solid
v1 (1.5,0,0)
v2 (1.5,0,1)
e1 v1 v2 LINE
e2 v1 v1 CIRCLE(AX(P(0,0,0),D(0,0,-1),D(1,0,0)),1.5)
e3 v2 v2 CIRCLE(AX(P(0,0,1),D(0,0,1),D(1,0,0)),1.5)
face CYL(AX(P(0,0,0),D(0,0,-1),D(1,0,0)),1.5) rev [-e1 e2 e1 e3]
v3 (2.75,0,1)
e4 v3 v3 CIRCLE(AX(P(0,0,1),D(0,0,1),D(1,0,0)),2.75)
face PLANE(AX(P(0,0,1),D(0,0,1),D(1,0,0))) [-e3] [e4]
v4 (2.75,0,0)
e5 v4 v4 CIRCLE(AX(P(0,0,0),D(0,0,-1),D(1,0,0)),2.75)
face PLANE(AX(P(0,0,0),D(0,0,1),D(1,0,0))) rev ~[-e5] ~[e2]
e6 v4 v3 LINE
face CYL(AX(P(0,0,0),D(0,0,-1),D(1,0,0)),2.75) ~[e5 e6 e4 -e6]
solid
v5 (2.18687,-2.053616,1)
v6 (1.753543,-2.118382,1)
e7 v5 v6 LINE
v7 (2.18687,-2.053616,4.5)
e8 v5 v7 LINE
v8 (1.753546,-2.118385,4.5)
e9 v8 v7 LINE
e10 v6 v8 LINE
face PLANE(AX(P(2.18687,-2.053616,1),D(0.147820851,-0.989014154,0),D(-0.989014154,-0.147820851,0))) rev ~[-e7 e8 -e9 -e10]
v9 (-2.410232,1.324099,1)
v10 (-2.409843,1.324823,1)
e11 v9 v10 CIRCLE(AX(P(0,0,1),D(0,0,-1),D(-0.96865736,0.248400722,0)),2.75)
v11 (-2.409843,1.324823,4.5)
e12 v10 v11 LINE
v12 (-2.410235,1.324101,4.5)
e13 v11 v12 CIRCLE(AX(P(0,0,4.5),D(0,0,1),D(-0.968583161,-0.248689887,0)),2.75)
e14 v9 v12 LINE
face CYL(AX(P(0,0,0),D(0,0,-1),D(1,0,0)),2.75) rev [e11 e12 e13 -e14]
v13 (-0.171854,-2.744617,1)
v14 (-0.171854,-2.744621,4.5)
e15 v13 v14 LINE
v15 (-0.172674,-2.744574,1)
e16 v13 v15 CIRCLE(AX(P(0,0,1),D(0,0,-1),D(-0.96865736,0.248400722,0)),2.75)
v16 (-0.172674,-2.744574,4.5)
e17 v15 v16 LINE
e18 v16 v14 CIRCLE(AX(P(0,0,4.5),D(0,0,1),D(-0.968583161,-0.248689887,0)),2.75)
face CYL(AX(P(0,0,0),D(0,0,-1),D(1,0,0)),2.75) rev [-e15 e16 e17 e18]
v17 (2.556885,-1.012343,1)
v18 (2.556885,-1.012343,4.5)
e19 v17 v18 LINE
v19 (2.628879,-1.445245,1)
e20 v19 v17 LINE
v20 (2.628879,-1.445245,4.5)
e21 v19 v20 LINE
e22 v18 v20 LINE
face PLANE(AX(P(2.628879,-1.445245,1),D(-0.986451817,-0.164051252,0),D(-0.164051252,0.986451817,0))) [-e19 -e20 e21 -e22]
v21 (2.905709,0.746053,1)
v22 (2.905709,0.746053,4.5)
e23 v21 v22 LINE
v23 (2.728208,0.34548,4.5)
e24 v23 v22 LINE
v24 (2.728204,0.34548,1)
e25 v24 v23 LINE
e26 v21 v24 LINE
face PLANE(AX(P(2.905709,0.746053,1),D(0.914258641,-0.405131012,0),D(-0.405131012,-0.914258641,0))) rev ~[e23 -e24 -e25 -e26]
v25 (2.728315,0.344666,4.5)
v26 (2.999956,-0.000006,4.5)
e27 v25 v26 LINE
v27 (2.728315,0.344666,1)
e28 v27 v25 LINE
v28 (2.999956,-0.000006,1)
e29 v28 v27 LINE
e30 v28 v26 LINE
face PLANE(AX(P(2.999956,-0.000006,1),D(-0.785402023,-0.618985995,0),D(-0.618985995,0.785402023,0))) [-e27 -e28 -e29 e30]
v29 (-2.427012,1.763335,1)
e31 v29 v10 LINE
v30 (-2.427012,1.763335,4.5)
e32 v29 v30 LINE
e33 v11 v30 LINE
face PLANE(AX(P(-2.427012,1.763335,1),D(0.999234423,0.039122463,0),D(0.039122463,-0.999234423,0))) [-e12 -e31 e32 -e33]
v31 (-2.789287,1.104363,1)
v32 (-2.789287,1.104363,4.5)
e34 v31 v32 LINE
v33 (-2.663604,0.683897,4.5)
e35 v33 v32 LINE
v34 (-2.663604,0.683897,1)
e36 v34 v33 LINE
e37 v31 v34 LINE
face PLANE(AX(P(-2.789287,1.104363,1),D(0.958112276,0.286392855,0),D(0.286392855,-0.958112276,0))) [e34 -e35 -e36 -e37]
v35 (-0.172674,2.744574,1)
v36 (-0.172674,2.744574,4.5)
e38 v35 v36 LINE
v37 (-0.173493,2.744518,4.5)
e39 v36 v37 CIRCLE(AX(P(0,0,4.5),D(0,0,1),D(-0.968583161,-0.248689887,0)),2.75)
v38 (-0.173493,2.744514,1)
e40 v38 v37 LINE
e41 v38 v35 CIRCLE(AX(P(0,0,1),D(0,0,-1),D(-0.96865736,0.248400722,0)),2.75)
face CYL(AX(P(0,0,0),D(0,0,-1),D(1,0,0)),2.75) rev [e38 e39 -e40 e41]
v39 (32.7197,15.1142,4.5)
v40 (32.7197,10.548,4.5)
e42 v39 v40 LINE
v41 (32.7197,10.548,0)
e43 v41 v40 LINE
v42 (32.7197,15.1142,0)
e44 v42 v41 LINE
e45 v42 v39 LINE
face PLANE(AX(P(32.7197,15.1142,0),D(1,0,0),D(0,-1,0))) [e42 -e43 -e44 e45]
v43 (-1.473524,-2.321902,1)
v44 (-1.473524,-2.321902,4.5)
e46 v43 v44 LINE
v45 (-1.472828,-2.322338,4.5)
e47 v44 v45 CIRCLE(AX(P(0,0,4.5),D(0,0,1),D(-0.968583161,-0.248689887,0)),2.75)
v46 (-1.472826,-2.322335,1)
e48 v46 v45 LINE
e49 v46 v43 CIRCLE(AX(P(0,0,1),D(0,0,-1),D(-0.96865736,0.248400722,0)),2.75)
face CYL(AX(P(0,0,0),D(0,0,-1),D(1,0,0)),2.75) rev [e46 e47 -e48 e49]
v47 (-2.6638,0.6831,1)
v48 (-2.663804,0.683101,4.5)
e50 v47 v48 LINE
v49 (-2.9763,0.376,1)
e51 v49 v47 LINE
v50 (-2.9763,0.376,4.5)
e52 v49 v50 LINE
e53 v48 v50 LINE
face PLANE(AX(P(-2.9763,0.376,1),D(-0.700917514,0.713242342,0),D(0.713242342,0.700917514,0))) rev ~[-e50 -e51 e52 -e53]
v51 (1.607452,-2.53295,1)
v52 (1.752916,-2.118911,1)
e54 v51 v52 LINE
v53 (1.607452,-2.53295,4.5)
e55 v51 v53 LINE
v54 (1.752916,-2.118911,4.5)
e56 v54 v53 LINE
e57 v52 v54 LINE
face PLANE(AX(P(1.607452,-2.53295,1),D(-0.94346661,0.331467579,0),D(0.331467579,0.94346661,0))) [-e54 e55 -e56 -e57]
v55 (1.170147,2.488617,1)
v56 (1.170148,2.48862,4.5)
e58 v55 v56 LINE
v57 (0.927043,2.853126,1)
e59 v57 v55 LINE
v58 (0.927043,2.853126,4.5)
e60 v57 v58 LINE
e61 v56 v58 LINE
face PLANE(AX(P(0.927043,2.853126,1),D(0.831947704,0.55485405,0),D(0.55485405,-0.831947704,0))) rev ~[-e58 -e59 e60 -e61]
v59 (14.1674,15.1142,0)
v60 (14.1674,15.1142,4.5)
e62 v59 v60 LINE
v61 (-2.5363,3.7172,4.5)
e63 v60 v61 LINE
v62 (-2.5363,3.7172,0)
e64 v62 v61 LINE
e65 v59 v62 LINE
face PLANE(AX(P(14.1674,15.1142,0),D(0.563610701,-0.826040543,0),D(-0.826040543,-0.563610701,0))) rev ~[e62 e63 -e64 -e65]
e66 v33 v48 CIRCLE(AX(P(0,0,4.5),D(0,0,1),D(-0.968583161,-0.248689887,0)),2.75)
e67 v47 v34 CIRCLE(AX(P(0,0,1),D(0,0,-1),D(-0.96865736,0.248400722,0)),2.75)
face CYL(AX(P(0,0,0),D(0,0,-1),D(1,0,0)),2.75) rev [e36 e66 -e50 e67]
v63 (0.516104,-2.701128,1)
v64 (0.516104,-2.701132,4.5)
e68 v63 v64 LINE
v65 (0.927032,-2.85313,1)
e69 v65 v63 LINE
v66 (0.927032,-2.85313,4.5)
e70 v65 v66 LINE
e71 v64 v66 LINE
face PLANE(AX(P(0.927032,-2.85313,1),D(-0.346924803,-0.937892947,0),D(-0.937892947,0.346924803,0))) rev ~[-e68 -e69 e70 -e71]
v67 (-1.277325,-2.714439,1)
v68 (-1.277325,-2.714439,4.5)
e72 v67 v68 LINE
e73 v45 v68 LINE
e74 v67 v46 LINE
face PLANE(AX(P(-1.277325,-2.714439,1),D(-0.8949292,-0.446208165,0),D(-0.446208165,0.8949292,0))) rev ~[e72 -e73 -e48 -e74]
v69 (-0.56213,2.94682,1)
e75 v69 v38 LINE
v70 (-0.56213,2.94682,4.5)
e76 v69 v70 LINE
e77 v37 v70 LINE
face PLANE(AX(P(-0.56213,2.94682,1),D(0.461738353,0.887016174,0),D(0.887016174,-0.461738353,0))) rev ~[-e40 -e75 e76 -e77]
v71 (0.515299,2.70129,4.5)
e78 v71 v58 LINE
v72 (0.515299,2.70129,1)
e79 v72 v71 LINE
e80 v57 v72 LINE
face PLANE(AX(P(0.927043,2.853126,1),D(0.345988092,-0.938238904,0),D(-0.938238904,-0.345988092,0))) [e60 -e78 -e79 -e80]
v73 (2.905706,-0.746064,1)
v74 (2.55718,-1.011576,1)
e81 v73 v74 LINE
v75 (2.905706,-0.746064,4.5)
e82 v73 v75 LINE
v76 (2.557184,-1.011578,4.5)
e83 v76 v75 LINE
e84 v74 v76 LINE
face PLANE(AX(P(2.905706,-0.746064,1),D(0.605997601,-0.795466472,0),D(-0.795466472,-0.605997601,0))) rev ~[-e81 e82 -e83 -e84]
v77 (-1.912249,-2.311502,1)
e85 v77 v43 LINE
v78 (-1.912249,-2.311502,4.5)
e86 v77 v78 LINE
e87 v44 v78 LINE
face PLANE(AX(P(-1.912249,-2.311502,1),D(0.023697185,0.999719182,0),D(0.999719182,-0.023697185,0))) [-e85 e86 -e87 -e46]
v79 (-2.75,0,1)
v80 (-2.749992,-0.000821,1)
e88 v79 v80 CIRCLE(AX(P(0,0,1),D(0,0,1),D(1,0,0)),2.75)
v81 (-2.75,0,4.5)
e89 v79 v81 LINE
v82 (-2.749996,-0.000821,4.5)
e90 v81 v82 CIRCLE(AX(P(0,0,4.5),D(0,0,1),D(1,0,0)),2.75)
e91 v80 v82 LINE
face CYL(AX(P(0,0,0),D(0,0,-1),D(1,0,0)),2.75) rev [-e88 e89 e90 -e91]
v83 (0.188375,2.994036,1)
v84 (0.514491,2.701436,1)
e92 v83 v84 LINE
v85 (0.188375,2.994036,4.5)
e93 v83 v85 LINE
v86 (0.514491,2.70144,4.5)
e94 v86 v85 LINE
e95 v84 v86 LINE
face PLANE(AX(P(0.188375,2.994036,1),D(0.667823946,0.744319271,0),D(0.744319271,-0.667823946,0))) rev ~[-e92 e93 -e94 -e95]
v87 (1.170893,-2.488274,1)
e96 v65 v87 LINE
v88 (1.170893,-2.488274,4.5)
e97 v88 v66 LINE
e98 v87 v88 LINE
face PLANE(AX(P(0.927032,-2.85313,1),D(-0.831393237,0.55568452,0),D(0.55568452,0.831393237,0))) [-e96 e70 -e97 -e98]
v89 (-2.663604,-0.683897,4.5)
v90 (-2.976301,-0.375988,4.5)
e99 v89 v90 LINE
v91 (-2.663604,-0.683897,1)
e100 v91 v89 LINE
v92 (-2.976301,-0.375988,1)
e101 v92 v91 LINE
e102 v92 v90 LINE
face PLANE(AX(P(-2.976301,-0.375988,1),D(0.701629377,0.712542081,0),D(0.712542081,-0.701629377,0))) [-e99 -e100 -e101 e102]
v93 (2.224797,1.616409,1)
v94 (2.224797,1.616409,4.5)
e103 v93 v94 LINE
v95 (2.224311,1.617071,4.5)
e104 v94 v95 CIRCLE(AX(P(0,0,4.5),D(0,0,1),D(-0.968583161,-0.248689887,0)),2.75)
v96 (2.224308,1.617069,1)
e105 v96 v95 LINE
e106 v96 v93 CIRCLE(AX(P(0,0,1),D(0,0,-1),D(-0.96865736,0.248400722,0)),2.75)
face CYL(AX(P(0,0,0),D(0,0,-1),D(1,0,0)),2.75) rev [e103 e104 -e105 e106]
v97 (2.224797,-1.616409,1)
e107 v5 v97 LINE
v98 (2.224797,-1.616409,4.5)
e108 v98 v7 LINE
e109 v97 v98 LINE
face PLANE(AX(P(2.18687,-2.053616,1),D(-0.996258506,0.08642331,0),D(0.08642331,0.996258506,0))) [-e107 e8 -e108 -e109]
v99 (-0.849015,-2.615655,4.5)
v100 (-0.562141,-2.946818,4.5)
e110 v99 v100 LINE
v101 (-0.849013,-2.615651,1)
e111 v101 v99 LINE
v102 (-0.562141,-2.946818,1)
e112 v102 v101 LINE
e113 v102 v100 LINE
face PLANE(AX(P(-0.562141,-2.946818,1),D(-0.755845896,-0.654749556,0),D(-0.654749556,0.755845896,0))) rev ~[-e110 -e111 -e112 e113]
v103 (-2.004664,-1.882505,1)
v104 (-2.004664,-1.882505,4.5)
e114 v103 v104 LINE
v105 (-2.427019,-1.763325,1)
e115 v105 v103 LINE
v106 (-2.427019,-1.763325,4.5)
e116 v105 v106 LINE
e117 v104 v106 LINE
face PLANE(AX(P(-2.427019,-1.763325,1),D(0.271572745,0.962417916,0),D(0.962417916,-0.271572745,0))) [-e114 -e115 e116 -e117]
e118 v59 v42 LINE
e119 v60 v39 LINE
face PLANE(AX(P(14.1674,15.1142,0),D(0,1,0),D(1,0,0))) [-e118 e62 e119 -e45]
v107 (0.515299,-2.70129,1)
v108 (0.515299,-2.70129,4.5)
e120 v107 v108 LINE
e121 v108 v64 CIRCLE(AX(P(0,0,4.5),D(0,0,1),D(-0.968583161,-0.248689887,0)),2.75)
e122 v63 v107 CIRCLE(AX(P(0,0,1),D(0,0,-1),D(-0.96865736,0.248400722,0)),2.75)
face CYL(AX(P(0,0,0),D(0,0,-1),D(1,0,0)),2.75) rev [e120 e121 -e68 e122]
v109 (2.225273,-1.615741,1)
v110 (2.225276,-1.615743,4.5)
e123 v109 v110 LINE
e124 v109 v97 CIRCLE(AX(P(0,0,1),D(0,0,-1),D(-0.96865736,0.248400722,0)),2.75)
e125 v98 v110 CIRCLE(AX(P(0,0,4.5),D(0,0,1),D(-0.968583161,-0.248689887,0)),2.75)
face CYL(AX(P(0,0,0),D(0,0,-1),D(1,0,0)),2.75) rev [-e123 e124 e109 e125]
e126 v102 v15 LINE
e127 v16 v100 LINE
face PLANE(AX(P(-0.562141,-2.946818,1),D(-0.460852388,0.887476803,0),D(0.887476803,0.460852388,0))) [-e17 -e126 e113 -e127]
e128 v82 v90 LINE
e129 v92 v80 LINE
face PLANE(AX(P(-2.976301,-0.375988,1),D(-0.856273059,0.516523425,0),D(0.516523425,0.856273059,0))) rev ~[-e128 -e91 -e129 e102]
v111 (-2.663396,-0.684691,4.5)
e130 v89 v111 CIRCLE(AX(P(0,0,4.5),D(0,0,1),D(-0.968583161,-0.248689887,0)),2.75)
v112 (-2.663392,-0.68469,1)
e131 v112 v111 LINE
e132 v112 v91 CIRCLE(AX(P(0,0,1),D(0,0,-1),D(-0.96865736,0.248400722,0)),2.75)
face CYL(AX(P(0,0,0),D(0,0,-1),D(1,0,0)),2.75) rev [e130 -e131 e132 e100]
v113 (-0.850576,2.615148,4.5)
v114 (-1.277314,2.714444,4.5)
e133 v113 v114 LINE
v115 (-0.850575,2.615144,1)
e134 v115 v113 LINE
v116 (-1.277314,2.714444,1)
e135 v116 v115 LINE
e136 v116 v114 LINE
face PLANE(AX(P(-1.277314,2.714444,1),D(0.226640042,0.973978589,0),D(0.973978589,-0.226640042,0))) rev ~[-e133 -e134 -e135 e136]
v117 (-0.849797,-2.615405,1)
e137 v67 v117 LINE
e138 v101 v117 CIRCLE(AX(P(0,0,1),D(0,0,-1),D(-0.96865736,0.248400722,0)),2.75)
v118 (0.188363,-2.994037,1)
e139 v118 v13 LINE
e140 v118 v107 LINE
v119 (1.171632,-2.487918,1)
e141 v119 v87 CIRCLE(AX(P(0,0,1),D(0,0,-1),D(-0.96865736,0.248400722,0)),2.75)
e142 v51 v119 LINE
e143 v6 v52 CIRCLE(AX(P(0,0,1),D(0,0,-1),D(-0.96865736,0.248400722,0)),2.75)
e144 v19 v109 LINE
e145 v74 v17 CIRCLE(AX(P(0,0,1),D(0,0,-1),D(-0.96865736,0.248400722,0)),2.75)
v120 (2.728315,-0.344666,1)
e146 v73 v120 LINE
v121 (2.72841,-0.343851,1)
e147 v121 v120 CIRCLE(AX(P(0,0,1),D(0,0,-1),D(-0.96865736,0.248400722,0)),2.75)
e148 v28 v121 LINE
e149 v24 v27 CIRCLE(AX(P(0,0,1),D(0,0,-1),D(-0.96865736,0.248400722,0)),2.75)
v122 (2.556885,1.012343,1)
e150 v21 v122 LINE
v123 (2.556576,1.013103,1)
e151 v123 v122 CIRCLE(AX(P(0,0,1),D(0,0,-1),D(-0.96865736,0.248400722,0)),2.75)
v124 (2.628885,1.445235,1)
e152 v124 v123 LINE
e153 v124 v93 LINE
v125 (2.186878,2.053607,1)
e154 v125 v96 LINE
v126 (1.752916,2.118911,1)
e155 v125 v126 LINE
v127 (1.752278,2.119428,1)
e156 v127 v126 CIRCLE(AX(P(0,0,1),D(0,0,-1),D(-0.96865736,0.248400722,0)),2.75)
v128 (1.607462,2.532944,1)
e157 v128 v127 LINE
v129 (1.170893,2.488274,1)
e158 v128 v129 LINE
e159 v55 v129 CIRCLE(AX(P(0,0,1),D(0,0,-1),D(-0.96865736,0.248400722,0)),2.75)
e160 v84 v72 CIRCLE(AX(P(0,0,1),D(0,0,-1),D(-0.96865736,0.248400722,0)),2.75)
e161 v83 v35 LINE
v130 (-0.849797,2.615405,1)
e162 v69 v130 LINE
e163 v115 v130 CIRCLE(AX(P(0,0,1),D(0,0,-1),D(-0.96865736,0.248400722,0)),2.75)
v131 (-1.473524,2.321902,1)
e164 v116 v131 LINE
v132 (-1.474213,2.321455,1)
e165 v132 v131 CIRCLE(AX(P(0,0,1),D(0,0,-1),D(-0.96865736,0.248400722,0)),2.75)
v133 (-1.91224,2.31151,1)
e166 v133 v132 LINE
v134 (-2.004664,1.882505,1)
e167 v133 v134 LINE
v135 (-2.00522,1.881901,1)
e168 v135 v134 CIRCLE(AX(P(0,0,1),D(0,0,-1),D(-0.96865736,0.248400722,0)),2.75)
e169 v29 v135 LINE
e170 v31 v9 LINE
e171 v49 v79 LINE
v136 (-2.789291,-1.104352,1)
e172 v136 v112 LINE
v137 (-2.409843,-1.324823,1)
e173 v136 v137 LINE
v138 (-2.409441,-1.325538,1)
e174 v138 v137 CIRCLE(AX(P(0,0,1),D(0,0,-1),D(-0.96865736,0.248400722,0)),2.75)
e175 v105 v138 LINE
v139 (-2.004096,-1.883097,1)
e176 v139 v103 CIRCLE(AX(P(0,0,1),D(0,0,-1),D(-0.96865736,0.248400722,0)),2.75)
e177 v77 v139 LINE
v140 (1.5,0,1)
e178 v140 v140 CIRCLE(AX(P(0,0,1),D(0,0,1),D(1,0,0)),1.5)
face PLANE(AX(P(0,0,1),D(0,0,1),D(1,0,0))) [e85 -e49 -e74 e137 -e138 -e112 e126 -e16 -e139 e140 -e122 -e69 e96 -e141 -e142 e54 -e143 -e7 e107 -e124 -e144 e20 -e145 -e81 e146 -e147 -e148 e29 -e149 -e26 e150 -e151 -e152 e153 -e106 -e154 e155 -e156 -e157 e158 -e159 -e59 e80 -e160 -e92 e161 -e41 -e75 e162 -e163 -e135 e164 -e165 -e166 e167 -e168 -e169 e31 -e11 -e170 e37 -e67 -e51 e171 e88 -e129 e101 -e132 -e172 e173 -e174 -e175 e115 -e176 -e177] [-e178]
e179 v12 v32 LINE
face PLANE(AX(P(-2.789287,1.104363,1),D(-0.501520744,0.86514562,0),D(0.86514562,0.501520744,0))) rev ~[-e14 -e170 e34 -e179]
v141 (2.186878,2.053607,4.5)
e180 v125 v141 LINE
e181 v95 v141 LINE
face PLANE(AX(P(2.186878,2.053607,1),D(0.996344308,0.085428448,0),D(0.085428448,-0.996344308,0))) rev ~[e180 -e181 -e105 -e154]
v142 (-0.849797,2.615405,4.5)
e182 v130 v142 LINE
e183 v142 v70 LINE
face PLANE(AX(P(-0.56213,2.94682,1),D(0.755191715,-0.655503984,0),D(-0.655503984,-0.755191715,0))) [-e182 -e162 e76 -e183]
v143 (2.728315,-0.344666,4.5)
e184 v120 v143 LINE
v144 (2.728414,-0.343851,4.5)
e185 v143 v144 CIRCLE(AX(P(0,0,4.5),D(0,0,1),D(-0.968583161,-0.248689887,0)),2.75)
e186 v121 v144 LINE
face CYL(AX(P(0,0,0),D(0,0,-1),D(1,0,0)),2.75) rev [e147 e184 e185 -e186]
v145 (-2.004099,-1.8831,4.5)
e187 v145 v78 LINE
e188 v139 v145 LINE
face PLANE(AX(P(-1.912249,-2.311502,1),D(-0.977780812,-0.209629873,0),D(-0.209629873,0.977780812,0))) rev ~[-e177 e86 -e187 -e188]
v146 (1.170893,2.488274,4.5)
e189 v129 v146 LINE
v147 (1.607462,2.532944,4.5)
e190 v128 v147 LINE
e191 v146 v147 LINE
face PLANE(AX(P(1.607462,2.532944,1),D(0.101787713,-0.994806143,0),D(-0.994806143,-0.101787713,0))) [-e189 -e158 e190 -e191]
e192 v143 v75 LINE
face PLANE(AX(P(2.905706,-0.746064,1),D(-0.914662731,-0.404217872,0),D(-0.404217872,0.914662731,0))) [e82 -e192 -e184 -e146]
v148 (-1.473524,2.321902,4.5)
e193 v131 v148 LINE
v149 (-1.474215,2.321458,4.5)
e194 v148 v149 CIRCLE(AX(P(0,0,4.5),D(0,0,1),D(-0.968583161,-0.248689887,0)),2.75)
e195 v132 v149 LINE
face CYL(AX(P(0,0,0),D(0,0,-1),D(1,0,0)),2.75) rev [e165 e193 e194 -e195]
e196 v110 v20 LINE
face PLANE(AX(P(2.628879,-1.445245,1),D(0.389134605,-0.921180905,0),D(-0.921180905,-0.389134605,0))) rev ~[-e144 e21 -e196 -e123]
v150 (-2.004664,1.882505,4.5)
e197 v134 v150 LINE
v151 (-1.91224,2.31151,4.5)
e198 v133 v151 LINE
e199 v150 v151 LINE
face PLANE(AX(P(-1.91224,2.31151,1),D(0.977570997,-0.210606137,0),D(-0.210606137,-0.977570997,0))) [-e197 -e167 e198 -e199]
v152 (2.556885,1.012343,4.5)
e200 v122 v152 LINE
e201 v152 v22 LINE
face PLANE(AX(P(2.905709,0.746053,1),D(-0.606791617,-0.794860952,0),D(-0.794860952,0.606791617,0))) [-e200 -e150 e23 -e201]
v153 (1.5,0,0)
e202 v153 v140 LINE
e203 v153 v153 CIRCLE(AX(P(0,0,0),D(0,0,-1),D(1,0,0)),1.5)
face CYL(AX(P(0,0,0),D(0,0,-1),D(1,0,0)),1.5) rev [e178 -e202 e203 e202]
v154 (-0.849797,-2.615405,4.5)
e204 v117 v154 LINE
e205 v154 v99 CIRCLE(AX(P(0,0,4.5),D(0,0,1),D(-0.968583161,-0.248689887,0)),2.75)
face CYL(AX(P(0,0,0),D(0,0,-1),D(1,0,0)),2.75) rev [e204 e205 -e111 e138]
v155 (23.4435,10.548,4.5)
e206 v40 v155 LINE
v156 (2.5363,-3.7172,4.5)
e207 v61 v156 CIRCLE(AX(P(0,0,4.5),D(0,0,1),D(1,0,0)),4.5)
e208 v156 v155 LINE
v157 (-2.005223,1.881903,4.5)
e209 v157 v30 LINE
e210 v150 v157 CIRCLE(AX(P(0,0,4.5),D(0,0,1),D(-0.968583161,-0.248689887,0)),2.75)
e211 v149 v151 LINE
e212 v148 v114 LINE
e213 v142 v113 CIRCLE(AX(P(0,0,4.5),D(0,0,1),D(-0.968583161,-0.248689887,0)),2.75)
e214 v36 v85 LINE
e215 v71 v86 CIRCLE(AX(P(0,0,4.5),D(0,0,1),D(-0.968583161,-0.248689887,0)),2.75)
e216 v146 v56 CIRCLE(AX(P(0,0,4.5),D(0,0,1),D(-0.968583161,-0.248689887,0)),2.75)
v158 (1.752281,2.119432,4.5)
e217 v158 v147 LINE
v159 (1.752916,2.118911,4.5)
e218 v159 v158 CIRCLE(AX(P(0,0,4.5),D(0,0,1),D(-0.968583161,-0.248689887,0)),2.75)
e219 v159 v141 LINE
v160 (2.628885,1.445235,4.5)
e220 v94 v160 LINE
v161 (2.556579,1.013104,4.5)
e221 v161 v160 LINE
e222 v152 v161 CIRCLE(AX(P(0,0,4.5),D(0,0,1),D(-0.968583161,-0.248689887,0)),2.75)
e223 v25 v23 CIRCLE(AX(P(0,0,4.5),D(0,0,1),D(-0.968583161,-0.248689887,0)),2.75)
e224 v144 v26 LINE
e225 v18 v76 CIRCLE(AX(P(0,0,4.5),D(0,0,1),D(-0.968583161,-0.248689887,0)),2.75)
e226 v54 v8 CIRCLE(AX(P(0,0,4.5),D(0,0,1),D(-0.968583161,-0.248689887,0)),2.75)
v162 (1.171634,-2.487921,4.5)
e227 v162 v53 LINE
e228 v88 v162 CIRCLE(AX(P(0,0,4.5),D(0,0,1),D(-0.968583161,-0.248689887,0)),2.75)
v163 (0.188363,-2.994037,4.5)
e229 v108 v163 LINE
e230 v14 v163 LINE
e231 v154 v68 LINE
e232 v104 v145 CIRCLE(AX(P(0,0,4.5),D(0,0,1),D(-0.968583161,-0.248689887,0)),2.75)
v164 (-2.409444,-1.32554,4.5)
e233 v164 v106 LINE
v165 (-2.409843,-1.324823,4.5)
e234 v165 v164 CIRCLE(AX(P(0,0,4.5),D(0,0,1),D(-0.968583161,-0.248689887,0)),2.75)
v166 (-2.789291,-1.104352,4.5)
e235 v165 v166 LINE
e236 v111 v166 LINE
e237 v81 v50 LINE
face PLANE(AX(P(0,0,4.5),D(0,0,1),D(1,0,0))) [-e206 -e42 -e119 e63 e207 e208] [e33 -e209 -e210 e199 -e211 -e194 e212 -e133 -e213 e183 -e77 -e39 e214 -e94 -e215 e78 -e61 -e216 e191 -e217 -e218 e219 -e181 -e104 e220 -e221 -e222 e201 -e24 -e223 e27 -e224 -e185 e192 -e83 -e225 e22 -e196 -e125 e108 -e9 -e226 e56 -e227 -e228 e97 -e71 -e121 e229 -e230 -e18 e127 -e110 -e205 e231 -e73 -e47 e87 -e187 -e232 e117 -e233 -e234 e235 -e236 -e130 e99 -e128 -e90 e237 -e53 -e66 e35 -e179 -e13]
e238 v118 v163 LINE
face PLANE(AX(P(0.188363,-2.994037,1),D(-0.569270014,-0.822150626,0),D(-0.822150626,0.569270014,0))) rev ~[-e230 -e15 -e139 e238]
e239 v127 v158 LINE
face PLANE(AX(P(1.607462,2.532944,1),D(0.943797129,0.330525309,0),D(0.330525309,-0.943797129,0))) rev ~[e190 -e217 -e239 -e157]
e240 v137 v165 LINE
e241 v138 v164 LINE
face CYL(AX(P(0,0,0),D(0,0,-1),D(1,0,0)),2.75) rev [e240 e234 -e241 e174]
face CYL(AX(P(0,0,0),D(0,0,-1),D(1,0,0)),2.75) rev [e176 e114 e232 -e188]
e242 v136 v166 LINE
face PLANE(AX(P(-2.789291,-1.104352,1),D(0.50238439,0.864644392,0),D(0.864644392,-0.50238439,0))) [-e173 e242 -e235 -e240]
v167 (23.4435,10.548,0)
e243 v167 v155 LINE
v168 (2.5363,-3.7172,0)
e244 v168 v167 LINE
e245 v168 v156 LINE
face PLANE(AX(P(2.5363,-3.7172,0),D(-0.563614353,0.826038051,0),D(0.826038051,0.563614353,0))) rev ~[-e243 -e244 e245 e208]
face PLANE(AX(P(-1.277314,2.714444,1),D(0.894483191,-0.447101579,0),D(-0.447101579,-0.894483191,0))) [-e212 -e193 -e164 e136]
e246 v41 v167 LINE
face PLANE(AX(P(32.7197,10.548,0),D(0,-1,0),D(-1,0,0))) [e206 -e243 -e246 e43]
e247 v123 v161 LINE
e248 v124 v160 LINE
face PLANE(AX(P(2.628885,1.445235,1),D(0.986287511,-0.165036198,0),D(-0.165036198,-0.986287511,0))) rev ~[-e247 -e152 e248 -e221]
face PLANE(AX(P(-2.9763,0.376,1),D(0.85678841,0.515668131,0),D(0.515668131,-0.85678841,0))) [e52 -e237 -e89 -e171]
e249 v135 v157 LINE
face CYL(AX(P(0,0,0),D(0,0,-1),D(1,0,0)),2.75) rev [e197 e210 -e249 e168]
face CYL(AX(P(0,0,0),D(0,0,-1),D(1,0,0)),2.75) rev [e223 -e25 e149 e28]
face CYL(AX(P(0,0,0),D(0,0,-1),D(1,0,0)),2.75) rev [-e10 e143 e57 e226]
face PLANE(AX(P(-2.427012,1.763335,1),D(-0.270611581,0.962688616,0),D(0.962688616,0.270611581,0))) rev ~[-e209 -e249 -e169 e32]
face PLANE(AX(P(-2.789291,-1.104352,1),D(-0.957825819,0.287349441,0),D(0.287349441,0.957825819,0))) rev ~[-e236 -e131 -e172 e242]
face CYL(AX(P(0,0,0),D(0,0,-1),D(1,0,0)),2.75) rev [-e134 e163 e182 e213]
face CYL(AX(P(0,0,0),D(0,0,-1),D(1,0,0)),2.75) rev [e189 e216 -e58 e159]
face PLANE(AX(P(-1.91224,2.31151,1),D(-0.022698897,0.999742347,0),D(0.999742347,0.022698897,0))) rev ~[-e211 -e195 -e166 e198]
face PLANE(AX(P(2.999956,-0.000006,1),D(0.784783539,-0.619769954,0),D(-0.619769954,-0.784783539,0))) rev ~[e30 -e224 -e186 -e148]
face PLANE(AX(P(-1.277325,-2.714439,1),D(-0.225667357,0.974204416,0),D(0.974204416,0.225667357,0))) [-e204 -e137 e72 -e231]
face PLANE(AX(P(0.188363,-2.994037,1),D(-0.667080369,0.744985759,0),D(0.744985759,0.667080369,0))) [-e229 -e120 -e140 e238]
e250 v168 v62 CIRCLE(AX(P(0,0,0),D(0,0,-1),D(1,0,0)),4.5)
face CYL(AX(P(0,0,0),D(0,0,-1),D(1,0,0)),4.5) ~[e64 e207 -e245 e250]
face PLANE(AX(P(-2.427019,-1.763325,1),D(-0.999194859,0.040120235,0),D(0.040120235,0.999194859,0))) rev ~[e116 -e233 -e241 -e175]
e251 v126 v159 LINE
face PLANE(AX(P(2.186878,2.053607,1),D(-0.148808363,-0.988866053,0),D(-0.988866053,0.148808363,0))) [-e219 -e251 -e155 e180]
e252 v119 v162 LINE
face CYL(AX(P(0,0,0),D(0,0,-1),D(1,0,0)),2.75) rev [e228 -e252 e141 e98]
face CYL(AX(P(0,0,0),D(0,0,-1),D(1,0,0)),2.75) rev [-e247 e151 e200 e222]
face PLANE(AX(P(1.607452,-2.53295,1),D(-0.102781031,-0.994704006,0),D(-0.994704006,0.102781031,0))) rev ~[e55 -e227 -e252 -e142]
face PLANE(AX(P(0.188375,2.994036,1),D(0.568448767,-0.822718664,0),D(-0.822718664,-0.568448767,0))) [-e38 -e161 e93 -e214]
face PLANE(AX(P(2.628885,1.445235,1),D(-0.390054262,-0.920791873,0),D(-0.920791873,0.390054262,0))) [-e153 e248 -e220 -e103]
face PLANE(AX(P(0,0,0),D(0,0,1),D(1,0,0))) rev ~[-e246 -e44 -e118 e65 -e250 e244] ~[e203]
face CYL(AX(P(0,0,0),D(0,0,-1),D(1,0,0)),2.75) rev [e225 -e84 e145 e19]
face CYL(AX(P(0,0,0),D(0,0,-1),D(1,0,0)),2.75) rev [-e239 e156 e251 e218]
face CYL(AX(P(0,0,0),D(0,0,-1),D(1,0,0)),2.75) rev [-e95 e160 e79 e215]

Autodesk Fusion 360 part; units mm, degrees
sketch "Sketch1" plane through (0, 0, 0) normal (0, 0, 1) x (1, 0, 0)
  circle A0 centre (0, 0) radius 1.5
  circle A1 centre (0, 0) radius 2.75
  circle A2 centre (0, 0) radius 4.5
  circle A3 centre (0, 0) radius 3
  line L0 (0, 0) -> (-3, 0)
  line L1 (0, 0) -> (-2.9763, 0.376)
  line L2 (0, 0) -> (3, 0) construction
  line L3 (0, 0) -> (-2.906, 0.7452)
  line L4 (-2.9763, 0.376) -> (-2.6638, 0.6831)
  line L5 (-2.9763, 0.376) -> (-2.75, 0)
  line L6 (14.1674, 15.1142) -> (32.7197, 15.1142)
  line L7 (32.7197, 15.1142) -> (32.7197, 10.548)
  line L8 (32.7197, 10.548) -> (14.1674, 10.548)
  line L9 (14.1674, 10.548) -> (14.1674, 15.1142)
  line L10 (14.1674, 15.1142) -> (-2.5363, 3.7172)
  line L11 (2.5363, -3.7172) -> (23.4435, 10.548)
  dimension "d1" = 3
  dimension "d2" = 5.5
  dimension "d3" = 9
  dimension "d10" = 6
  dimension "d11" = 172.8
  dimension "d12" = 7.2
extrude "Extrude1" add sketch "Sketch1" along normal blind 1 contours A0 A1 L0 L3 | A0 A1 L1 L3 | A0 A1 L0 L1 makes body 1
extrude "Extrude2" add sketch "Sketch1" along normal blind 4.5 separate body contours A1 A3 L0 L3 | A3 L3 L4 | A1 L1 L4 | A1 L1 L5 | A3 L0 L5 | A2 makes body 2
extrude "Extrude3" add sketch "Sketch1" along normal blind 1 contours A0 A1 L0 L3 | A0 A1 L1 L3 | A0 A1 L0 L1 bodies 2
extrude "Extrude4" cut sketch "Sketch1" along normal blind 7 from surface at 1 contours A1 L1 L4 | A1 L1 L5 bodies 2
pattern_circular "C-Pattern1" count 25 over 360 about axis through (0, 0, 1.75) along (0, 0, 1) of "Extrude4"
extrude "Extrude5" add sketch "Sketch1" along normal blind 4.5 contours A2 L8 L9 L10 L11 | L6 L7 L8 L9 bodies 2
